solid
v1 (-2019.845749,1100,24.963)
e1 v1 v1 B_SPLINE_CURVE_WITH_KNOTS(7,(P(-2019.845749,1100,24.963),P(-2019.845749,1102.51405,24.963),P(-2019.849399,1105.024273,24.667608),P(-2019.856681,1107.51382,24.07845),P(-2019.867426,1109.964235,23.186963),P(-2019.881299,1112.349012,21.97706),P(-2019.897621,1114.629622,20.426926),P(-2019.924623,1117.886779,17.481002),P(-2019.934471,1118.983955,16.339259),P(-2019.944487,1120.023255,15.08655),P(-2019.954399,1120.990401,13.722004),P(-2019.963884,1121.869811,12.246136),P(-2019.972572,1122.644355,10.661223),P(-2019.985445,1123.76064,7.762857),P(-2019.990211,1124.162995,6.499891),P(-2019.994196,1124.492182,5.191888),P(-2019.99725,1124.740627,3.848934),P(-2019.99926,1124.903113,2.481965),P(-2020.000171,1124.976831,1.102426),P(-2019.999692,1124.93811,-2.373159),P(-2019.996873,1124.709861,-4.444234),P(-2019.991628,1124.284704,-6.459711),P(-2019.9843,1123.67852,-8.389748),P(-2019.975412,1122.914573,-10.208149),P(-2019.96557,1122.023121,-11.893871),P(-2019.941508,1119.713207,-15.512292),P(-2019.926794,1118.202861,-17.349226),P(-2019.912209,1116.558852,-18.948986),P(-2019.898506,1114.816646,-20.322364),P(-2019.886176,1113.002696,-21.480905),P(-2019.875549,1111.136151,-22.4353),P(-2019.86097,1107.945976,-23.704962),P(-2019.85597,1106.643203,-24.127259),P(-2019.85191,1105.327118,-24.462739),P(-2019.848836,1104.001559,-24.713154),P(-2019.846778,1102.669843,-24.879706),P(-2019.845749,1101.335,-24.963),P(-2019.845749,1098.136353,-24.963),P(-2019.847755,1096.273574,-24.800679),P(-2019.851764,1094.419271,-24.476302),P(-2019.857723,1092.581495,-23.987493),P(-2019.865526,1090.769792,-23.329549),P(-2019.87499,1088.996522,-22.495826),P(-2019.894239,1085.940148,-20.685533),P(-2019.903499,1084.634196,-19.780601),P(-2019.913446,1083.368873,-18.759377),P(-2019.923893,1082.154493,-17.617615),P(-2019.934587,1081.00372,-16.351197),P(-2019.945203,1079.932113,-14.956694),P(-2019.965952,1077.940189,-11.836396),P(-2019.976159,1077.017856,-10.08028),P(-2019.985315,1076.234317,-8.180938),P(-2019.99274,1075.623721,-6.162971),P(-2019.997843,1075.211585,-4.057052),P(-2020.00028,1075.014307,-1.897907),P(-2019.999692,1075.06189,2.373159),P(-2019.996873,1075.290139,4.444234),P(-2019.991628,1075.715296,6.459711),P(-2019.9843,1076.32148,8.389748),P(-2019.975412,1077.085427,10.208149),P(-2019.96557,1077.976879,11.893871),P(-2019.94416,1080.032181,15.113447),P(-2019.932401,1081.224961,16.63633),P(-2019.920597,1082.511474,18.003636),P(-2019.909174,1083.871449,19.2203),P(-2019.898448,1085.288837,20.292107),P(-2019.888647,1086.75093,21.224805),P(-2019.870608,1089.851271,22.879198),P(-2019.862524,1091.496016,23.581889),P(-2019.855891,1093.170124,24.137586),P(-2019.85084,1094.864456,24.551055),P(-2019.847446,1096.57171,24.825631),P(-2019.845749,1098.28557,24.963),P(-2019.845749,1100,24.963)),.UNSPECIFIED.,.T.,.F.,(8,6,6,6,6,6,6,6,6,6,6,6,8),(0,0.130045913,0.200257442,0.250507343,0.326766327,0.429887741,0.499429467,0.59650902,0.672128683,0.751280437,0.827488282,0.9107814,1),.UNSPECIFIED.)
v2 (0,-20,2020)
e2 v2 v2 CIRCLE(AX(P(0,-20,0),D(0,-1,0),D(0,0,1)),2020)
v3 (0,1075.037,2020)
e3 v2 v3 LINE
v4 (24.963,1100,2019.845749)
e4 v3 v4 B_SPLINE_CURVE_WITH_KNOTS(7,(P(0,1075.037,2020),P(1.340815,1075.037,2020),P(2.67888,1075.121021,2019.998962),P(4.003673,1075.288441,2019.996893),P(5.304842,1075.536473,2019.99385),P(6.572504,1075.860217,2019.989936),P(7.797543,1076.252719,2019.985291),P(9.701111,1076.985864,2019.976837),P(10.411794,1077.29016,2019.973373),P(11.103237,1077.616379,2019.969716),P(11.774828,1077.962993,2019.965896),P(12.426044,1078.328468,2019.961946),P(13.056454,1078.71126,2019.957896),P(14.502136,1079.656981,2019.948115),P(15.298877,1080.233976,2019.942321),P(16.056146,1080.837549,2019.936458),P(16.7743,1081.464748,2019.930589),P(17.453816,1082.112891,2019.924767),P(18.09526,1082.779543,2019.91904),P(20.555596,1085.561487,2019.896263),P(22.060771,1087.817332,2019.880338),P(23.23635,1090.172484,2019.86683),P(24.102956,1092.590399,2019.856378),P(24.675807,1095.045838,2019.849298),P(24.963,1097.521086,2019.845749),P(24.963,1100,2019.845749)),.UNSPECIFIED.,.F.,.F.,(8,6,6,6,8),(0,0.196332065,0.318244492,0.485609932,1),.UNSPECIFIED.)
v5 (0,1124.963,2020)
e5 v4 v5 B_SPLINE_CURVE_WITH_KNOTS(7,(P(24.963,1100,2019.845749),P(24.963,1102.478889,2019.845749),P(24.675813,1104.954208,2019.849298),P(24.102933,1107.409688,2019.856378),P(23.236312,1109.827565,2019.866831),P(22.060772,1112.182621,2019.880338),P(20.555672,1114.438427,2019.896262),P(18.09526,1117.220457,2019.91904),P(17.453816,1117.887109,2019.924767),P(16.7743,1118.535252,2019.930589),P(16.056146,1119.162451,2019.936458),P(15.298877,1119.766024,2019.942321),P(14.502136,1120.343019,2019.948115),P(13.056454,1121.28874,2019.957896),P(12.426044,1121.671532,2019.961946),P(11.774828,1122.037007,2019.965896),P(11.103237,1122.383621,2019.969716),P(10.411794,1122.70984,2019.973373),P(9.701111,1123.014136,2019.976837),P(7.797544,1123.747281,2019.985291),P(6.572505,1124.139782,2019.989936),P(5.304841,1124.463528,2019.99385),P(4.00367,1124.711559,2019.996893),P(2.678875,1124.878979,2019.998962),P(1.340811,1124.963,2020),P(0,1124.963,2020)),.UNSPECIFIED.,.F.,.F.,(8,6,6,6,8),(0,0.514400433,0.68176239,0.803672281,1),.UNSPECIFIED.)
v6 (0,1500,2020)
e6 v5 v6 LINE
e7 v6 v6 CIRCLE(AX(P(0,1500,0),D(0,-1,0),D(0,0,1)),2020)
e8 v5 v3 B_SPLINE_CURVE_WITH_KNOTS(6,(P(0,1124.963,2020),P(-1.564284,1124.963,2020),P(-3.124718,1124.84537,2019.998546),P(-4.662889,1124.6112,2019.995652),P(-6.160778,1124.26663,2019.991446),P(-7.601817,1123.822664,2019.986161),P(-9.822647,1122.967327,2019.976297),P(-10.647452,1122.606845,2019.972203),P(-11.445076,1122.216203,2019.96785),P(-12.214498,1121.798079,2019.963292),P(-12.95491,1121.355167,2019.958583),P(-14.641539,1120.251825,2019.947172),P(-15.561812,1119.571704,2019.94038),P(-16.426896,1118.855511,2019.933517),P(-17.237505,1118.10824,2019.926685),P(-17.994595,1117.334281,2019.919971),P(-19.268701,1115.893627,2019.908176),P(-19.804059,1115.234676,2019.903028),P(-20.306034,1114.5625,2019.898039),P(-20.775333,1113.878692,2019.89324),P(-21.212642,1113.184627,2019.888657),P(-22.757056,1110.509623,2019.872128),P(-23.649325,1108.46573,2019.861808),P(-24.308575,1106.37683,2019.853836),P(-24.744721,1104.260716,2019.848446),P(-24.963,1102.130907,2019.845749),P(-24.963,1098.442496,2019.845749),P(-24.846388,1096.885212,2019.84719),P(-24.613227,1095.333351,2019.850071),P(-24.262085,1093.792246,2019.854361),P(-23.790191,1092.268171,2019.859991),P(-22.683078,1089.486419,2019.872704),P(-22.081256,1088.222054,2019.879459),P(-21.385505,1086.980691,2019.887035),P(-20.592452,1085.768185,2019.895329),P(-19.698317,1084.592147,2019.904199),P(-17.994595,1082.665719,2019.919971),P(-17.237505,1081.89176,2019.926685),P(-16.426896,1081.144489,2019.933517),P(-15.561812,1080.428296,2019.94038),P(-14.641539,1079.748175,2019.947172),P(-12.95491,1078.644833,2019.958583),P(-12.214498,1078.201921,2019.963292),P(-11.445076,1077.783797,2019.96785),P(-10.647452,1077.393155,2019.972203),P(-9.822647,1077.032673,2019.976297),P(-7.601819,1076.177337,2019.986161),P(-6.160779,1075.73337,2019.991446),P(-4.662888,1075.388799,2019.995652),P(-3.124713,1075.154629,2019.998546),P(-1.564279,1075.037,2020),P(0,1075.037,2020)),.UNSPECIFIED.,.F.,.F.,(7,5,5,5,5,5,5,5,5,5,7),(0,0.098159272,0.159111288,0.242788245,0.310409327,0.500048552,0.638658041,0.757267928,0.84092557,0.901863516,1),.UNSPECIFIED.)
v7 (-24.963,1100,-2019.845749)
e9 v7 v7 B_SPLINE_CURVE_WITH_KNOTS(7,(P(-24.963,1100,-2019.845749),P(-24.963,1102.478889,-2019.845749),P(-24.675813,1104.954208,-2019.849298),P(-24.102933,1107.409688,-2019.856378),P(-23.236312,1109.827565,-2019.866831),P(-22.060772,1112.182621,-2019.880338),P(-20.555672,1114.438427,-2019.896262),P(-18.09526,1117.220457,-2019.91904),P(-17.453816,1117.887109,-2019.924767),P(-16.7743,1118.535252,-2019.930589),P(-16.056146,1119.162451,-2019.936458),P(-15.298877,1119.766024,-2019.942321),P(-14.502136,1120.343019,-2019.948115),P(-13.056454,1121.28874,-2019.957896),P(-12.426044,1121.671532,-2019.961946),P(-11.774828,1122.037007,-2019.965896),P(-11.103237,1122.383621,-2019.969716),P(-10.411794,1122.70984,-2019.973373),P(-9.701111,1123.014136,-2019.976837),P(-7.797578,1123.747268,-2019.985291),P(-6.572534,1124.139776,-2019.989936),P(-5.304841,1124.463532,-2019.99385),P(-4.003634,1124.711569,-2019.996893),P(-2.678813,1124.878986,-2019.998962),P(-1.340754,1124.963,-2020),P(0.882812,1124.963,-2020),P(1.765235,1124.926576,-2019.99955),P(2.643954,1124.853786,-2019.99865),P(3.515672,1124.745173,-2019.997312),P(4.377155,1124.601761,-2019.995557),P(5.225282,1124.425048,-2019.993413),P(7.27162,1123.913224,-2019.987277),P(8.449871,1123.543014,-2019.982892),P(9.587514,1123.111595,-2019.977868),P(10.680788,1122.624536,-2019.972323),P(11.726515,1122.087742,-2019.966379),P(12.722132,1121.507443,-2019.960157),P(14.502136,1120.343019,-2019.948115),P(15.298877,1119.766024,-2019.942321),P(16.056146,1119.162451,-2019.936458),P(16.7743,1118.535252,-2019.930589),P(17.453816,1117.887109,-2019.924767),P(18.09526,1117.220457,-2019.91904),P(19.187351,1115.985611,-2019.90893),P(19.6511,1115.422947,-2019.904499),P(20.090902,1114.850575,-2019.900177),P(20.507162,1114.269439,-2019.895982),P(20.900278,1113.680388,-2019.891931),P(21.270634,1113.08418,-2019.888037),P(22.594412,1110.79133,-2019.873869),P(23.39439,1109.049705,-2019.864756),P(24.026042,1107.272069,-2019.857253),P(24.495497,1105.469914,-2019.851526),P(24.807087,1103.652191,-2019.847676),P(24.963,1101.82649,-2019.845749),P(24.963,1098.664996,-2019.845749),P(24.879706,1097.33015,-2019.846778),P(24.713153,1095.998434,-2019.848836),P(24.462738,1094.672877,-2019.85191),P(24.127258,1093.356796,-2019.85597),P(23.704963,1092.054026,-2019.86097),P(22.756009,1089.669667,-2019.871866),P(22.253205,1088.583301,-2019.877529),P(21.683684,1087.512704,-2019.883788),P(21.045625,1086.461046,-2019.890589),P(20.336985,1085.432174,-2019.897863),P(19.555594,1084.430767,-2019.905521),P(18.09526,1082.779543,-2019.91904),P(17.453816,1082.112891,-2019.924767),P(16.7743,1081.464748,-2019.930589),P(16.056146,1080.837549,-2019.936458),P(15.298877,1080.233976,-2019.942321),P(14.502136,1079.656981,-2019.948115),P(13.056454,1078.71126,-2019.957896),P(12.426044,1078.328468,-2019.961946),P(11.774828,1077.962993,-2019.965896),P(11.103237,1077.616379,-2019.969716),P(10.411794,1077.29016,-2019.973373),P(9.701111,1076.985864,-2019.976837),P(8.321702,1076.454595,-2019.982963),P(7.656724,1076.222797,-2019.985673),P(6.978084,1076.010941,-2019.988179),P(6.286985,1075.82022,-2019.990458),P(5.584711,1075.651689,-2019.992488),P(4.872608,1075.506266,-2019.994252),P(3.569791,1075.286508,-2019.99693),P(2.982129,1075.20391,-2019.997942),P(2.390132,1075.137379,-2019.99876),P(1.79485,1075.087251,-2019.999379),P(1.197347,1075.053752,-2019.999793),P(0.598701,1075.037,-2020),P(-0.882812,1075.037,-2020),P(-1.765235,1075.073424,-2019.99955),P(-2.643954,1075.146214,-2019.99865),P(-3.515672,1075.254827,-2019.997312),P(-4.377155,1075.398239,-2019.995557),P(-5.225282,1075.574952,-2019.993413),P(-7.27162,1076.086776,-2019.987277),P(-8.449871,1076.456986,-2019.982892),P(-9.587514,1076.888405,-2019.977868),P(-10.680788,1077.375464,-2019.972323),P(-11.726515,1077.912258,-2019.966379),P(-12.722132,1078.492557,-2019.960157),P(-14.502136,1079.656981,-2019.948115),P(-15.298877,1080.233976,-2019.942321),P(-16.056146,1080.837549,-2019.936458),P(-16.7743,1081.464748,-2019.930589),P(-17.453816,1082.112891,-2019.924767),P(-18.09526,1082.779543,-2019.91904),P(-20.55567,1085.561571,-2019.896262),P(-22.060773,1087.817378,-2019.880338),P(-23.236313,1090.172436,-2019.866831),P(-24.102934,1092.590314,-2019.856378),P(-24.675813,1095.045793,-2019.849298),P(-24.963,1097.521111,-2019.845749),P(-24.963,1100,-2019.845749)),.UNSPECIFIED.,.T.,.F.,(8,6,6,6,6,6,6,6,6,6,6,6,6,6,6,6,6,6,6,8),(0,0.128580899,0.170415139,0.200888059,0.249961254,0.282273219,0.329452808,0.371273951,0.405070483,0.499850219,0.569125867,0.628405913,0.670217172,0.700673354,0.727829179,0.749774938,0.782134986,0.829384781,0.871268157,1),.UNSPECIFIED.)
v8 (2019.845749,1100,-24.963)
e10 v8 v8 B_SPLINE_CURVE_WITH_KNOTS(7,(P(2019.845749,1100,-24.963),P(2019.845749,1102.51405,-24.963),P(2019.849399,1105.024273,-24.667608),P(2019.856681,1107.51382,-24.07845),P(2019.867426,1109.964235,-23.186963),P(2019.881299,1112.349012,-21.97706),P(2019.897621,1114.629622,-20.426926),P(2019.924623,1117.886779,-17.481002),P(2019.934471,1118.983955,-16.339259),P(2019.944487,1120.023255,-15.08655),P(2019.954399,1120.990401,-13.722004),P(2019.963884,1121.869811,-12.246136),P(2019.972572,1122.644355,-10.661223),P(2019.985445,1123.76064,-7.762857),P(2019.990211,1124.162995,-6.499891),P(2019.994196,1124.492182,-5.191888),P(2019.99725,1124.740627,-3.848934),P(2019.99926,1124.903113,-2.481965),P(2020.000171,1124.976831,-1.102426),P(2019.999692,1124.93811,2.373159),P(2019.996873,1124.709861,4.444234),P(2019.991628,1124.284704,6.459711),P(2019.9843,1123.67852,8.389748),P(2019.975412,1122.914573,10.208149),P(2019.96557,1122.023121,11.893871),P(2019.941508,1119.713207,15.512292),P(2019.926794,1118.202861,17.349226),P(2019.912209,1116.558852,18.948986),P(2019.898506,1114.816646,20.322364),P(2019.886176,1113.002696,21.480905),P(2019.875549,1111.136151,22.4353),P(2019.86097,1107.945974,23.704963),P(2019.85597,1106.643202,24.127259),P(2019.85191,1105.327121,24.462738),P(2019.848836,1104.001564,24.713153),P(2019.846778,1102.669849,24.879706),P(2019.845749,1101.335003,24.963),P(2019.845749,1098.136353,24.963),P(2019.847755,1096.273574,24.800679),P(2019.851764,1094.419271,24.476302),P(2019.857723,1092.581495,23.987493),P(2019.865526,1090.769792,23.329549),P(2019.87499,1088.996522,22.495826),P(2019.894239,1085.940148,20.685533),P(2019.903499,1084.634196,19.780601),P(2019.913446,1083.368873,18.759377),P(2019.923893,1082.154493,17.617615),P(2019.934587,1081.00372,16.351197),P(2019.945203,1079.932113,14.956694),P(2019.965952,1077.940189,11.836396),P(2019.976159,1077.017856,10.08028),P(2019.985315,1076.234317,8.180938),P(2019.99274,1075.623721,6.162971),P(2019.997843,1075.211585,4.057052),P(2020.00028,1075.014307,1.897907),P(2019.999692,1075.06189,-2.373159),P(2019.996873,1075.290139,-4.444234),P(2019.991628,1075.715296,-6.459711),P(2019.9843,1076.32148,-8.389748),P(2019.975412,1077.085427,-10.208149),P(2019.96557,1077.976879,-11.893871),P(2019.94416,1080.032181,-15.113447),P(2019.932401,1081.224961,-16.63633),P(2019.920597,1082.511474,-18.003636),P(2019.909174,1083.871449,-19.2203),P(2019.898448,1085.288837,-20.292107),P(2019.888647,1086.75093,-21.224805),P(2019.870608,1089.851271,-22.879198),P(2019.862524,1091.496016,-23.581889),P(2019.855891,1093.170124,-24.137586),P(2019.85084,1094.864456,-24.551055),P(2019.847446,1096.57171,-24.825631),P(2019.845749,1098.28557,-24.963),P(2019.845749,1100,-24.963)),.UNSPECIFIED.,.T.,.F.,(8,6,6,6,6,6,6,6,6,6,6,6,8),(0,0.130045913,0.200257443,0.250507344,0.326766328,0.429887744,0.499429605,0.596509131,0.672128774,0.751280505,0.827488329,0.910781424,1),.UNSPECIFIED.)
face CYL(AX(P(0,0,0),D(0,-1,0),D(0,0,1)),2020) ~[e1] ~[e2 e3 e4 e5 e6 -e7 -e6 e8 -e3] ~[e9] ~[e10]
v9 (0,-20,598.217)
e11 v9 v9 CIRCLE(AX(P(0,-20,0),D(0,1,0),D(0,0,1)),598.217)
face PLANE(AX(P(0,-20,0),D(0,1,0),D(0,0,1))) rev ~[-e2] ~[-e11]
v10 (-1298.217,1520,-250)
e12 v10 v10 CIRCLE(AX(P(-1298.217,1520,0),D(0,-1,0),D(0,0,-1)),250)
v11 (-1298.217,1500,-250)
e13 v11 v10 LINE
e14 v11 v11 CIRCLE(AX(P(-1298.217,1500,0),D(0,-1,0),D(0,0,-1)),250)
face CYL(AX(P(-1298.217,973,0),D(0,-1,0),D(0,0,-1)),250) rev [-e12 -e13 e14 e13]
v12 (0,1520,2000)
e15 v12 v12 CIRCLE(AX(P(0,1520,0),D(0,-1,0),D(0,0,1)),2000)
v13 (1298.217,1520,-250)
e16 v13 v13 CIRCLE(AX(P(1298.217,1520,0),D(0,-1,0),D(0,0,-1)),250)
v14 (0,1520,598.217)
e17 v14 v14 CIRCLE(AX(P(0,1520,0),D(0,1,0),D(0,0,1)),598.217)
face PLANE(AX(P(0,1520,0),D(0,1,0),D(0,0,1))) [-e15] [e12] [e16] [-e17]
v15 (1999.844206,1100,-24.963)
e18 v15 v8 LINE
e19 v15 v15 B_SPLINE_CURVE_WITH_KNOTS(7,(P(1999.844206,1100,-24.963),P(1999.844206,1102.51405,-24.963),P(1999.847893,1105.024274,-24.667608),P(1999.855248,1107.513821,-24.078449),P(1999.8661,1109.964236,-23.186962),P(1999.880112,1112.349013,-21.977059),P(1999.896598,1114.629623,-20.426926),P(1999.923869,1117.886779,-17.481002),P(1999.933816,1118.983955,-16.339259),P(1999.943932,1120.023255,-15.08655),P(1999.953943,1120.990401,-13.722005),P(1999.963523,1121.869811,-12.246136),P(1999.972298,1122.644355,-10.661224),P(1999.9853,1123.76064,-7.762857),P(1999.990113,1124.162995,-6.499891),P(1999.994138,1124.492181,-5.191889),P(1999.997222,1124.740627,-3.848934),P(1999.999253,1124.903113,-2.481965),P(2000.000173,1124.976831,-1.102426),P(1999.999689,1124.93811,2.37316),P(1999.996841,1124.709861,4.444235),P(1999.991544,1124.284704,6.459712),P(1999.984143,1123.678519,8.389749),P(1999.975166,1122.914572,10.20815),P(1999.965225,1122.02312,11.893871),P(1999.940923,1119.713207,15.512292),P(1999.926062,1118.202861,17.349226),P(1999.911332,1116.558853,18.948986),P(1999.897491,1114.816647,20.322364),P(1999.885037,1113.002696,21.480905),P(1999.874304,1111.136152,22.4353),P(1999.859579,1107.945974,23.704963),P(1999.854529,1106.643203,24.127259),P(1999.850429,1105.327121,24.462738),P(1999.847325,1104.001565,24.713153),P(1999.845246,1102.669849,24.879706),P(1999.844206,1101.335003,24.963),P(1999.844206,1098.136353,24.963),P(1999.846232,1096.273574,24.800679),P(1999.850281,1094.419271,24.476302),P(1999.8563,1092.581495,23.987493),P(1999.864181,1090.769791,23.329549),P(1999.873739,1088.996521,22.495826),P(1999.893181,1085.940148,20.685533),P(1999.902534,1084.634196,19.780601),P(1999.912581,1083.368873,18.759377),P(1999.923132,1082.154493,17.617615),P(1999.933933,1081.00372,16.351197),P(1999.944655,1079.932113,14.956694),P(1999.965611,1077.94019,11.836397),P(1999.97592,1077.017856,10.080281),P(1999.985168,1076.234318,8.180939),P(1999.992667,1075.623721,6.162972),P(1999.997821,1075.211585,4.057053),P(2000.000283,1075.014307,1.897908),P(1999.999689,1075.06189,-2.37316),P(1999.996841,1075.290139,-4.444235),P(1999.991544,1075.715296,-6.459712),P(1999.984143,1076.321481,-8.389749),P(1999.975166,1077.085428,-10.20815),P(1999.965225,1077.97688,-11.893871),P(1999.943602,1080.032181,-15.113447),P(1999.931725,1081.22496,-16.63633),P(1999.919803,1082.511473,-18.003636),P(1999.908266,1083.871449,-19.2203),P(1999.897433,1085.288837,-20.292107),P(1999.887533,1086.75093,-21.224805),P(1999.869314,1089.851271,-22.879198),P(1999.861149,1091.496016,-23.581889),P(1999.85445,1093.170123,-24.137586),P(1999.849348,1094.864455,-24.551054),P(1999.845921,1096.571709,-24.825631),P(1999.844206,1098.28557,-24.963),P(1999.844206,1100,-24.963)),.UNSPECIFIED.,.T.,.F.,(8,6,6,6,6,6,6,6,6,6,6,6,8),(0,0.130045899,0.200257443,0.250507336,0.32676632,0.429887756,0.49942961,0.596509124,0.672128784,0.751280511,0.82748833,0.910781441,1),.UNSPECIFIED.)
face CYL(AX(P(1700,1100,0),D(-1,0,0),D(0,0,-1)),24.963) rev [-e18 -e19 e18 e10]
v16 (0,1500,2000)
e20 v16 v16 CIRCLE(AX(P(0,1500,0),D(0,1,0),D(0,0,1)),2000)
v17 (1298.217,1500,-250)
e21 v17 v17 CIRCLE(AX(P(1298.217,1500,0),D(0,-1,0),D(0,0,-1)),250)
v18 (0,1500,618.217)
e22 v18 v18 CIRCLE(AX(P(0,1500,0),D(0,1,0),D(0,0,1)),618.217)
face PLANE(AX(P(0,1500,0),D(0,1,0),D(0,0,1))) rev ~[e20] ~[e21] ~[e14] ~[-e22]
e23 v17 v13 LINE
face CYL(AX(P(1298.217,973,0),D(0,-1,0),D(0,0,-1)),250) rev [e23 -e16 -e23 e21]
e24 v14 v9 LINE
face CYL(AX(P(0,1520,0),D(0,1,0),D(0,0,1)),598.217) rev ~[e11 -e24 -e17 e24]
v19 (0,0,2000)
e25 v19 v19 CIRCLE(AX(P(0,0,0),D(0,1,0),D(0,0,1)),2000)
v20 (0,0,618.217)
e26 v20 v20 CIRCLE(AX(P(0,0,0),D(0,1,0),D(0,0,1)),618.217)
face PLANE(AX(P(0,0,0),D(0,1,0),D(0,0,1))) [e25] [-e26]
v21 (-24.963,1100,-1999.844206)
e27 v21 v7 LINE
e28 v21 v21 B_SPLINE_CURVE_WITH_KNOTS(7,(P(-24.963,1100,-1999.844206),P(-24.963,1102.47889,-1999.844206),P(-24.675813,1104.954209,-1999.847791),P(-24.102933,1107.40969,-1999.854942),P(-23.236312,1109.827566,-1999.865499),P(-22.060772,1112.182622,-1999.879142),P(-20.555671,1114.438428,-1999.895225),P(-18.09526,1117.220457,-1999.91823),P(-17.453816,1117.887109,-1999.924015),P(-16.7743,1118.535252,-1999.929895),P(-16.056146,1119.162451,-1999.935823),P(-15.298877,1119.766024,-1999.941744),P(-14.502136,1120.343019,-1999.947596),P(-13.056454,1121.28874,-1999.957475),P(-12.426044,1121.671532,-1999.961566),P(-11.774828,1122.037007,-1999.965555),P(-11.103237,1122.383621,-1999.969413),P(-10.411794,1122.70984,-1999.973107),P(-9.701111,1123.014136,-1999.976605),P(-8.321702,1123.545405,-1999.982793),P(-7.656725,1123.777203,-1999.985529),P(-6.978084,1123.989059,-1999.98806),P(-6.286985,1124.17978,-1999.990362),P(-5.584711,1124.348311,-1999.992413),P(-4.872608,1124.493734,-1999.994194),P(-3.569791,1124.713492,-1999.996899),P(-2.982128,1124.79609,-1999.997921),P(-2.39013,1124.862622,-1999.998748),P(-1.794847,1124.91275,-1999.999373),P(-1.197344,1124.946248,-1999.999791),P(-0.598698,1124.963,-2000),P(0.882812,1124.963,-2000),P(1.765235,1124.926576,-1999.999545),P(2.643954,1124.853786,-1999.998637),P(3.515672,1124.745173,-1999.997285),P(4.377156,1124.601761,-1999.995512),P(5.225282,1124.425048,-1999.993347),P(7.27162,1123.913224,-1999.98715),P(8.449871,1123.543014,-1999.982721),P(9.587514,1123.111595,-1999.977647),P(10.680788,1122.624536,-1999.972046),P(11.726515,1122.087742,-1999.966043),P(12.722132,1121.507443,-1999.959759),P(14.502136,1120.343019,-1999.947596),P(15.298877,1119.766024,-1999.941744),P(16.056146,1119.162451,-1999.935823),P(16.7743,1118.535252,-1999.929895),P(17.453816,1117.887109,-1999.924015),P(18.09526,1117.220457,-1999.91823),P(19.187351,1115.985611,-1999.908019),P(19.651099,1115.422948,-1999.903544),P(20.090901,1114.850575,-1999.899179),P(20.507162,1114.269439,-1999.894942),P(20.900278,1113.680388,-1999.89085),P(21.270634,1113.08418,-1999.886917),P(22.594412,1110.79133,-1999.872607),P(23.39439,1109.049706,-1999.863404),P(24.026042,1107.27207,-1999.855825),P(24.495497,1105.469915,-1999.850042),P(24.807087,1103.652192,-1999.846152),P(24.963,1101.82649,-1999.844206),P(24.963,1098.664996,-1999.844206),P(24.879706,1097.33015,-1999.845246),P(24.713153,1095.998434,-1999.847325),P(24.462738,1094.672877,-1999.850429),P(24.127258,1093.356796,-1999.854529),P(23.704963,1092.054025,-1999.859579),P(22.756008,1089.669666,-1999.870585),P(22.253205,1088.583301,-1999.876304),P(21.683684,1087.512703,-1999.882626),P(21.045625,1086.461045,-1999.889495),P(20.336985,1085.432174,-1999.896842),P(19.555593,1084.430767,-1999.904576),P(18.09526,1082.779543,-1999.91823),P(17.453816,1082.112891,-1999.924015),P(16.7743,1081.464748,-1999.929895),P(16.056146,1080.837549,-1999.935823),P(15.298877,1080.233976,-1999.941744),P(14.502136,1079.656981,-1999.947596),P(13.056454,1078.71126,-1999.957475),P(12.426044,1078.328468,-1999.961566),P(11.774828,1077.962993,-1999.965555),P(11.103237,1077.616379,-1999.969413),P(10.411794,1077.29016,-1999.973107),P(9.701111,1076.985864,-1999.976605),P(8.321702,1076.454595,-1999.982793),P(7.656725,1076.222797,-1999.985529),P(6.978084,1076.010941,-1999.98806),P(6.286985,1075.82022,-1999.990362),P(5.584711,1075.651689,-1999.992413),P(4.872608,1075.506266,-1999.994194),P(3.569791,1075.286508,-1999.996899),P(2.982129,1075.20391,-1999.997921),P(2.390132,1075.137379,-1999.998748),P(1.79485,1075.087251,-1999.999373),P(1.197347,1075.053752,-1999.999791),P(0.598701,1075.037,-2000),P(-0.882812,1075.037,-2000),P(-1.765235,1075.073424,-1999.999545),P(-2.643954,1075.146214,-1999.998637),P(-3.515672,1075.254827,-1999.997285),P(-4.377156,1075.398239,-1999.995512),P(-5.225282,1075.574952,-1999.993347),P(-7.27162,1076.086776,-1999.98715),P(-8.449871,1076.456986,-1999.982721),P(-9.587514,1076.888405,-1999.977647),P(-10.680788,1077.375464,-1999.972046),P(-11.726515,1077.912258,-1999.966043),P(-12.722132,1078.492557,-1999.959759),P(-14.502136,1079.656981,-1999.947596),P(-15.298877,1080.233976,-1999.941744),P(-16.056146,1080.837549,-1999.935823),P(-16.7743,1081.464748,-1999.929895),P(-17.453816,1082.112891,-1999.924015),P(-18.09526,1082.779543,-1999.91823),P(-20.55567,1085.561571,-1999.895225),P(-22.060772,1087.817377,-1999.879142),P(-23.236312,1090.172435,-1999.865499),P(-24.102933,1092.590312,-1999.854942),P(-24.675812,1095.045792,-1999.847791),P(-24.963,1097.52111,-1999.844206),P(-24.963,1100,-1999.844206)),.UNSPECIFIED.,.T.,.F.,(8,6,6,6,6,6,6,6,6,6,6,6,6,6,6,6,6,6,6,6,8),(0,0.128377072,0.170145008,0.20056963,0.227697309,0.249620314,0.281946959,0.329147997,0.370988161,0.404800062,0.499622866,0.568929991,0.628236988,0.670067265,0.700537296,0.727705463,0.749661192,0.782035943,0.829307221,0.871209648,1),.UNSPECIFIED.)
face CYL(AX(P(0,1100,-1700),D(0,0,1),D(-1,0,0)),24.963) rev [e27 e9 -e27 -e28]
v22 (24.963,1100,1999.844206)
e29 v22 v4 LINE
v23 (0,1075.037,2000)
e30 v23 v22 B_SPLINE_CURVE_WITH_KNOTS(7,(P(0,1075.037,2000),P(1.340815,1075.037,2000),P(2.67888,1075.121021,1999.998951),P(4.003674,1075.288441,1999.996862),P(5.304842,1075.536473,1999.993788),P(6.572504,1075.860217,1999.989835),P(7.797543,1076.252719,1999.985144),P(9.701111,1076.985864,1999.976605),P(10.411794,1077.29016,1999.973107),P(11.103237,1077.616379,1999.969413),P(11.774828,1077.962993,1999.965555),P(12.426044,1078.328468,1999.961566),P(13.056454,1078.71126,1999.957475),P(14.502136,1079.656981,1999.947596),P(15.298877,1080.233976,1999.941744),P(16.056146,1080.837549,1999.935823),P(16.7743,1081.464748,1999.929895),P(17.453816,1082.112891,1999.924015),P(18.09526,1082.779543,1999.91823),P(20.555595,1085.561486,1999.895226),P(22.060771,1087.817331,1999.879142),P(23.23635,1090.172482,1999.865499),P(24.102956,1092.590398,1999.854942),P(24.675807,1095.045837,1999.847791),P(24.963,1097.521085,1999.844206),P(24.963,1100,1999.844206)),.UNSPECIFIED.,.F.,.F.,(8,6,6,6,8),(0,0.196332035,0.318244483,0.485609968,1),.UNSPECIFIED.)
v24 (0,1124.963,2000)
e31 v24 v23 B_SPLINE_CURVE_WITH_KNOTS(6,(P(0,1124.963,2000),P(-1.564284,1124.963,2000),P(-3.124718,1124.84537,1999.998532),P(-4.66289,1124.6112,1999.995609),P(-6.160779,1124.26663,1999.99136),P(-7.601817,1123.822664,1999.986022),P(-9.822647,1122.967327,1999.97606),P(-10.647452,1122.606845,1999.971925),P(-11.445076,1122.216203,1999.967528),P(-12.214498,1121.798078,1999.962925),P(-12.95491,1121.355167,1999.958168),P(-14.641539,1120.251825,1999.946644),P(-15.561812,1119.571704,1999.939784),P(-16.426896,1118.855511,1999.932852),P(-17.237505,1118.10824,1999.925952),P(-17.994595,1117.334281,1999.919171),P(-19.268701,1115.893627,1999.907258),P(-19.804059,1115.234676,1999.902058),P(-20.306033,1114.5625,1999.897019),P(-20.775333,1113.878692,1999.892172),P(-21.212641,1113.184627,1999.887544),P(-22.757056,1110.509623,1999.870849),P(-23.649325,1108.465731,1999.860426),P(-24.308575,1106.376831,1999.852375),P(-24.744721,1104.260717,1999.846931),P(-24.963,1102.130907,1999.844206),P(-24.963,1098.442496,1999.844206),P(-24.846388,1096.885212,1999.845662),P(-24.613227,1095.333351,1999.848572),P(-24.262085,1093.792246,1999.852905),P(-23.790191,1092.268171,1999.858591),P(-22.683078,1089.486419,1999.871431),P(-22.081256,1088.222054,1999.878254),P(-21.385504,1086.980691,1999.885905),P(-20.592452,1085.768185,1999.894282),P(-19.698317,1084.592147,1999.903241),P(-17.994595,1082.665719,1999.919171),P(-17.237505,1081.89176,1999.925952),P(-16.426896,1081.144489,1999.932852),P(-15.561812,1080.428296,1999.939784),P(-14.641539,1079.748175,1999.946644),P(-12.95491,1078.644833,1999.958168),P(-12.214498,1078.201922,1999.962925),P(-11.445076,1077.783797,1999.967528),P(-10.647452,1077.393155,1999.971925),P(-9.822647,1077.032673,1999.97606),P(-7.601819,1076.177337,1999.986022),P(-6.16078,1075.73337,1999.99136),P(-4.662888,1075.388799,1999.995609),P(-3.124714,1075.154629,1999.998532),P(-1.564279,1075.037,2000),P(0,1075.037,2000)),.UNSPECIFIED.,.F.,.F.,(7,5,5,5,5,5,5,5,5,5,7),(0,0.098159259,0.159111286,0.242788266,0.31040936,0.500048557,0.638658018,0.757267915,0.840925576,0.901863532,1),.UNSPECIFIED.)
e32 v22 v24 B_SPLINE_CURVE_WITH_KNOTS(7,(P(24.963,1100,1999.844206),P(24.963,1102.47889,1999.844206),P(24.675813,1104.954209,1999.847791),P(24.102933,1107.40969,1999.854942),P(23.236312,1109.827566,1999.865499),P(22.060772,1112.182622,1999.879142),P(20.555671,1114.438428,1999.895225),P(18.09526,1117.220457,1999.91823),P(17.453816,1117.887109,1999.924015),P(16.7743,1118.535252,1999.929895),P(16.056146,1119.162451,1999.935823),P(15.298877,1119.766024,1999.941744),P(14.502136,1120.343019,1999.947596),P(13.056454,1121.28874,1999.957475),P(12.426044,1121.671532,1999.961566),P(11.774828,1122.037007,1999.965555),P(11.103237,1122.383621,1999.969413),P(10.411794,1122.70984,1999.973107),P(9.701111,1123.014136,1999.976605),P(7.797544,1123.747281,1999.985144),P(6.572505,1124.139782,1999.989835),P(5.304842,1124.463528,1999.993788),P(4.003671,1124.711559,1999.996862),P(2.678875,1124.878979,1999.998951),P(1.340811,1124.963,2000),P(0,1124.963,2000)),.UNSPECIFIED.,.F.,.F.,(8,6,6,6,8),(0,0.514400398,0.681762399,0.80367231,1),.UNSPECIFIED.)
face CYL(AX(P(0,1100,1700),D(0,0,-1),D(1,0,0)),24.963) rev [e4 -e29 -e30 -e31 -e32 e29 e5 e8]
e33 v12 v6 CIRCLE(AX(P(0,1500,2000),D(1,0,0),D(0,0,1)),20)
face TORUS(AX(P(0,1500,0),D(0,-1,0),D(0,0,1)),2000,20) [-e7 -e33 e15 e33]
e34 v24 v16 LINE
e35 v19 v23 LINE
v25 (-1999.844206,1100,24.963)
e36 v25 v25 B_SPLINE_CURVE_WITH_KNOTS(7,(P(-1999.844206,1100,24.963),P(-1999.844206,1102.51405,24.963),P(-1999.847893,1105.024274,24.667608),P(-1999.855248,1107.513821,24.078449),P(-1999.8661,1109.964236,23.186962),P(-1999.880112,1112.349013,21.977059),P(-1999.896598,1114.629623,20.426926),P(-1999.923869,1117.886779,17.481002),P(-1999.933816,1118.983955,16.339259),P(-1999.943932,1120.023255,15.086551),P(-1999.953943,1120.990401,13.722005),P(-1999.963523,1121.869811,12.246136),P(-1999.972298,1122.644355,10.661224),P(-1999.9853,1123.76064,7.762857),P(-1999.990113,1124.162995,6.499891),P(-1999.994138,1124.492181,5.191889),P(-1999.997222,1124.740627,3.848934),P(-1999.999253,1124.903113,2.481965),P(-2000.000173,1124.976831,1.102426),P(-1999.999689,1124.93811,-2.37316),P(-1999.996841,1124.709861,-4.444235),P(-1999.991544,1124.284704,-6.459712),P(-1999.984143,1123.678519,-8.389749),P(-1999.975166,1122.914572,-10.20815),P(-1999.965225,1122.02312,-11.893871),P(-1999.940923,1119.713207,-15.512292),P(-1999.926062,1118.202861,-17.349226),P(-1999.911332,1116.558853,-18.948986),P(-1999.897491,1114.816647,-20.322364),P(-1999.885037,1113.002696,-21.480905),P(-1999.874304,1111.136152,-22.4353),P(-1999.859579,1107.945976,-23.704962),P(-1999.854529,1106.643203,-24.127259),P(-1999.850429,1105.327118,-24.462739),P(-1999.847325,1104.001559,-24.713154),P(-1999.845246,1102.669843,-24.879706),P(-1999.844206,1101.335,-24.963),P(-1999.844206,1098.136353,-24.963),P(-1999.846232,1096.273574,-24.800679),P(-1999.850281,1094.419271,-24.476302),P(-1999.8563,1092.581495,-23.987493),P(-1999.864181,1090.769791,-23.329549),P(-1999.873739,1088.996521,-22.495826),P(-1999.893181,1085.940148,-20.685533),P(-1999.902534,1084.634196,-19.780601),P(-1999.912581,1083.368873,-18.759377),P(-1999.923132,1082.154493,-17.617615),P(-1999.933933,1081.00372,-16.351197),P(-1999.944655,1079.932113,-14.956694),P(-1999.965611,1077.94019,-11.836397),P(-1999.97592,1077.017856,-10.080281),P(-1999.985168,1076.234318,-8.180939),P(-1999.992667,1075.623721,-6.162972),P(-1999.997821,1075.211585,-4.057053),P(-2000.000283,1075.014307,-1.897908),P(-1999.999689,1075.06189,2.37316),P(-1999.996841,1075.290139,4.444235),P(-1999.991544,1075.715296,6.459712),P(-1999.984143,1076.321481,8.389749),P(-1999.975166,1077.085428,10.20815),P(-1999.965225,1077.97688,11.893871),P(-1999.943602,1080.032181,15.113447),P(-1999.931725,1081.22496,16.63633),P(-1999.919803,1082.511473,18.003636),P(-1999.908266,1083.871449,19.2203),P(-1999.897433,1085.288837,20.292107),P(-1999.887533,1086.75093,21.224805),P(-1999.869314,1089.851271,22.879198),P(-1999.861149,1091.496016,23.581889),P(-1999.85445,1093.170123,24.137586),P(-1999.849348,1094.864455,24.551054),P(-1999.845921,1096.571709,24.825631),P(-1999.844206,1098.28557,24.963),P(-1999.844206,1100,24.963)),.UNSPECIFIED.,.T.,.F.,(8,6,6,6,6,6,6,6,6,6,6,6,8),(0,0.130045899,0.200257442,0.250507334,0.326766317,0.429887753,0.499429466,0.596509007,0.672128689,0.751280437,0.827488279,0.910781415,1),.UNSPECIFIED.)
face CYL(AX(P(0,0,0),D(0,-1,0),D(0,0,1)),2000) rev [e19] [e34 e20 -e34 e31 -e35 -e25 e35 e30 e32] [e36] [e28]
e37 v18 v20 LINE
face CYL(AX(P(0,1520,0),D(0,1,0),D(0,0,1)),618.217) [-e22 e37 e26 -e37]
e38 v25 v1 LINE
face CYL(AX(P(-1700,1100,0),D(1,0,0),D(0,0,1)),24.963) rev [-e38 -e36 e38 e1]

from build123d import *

# Parameters (mm, degrees)
SKETCH9_R               = 2000
BOSS_EXTRUDE5_DEPTH     = 1500
SKETCH10_R              = 598.217
CUT_EXTRUDE3_DEPTH      = 1500
SHELL6_T                = 20
SKETCH11_R              = 598.217
BOSS_EXTRUDE6_DEPTH     = 1540
BOSS_EXTRUDE7_REACH     = 3247.366
SKETCH13_R              = 618.217
SKETCH14_R              = 598.217
CUT_EXTRUDE5_DEPTH      = 3246.36592698
FILLET2_R               = 20
CUT_EXTRUDE6_DEPTH      = 3246.365927042
CUT_EXTRUDE6_DEPTH_BACK = 547
SKETCH16_R              = 250
CUT_EXTRUDE11_START     = 1700
SKETCH19_R              = 24.963
CUT_EXTRUDE11_DEPTH     = 400
CIRPATTERN1_COUNT       = 4


with BuildPart() as part:
    # Sketch9 → Boss-Extrude5 (new body)
    with BuildSketch(Plane(origin=(0, 0, 0), x_dir=(1, 0, 0), z_dir=(0, 1, 0))):
        with Locations(Location((0, 0, 0), (0, 0, 270))):
            Circle(SKETCH9_R)
    extrude(amount=BOSS_EXTRUDE5_DEPTH)

    # Sketch10 → Cut-Extrude3 (cut)
    with BuildSketch(Plane(origin=(0, 1500, 0), x_dir=(1, 0, 0), z_dir=(0, 1, 0))):
        with Locations(Location((0, 0, 0), (0, 0, 270))):
            Circle(SKETCH10_R)
    extrude(amount=-CUT_EXTRUDE3_DEPTH, mode=Mode.SUBTRACT)

    # Shell6
    shell6_openings = [part.faces().sort_by_distance(p)[0] for p in [
        (0, 750, -598.217),
    ]]
    offset(amount=SHELL6_T, openings=shell6_openings, kind=Kind.INTERSECTION)

    # Sketch11 → Boss-Extrude6 (add, through all)
    with BuildSketch(Plane(origin=(0, 1520, 0), x_dir=(1, 0, 0), z_dir=(0, 1, 0))):
        with Locations(Location((0, 0, 0), (0, 0, 270))):
            Circle(SKETCH11_R)
    extrude(amount=-BOSS_EXTRUDE6_DEPTH)

    # Sketch13 → Boss-Extrude7 (add, up to next)
    with BuildSketch(Plane(origin=(0, 1520, 0), x_dir=(1, 0, 0), z_dir=(0, 1, 0)), mode=Mode.PRIVATE) as boss_extrude7_sk1:
        with Locations(Location((0, 0, 0), (0, 0, 270))):
            Circle(SKETCH13_R)
    boss_extrude7_tool1 = extrude(boss_extrude7_sk1.sketch, amount=-BOSS_EXTRUDE7_REACH, mode=Mode.PRIVATE) - part.part
    add(boss_extrude7_tool1.solids().sort_by_distance((0, 1520, 0))[0])

    # Sketch14 → Cut-Extrude5 (cut, through all)
    with BuildSketch(Plane(origin=(0, 1520, 0), x_dir=(1, 0, 0), z_dir=(0, 1, 0))):
        with Locations(Location((0, 0, 0), (0, 0, 270))):
            Circle(SKETCH14_R)
    extrude(amount=-CUT_EXTRUDE5_DEPTH, mode=Mode.SUBTRACT)

    # Fillet2
    fillet2_edges = [part.edges().sort_by_distance(p)[0] for p in [
        (0, 1520, -2020),
    ]]
    fillet(fillet2_edges, radius=FILLET2_R)

    # Sketch16 → Cut-Extrude6 (cut, two sides: drawn at the far end of the back side and taken through both)
    with BuildSketch(Plane(origin=(0, 1520, 0), x_dir=(1, 0, 0), z_dir=(0, 1, 0)).offset(-CUT_EXTRUDE6_DEPTH_BACK)):
        with Locations(Location((-1298.217, 0, 0), (0, 0, 90))):
            Circle(SKETCH16_R)
        with Locations(Location((1298.217, 0, 0), (0, 0, 90))):
            Circle(SKETCH16_R)
    extrude(amount=CUT_EXTRUDE6_DEPTH + CUT_EXTRUDE6_DEPTH_BACK, mode=Mode.SUBTRACT)

    # Sketch19 → Cut-Extrude11 (cut)
    with BuildSketch(Plane.XY.offset(CUT_EXTRUDE11_START)):
        with Locations((0, 1100)):
            Circle(SKETCH19_R)
    cut_extrude11 = extrude(amount=CUT_EXTRUDE11_DEPTH, mode=Mode.SUBTRACT)

    # CirPattern1: Cut-Extrude11 ×4 about axis
    cirpattern1_axis = Axis((0, 1520, 0), (0, 1, 0))
    for i in range(1, CIRPATTERN1_COUNT):
        add(cut_extrude11.rotate(cirpattern1_axis, i * 360 / CIRPATTERN1_COUNT), mode=Mode.SUBTRACT)


solid = part.part
